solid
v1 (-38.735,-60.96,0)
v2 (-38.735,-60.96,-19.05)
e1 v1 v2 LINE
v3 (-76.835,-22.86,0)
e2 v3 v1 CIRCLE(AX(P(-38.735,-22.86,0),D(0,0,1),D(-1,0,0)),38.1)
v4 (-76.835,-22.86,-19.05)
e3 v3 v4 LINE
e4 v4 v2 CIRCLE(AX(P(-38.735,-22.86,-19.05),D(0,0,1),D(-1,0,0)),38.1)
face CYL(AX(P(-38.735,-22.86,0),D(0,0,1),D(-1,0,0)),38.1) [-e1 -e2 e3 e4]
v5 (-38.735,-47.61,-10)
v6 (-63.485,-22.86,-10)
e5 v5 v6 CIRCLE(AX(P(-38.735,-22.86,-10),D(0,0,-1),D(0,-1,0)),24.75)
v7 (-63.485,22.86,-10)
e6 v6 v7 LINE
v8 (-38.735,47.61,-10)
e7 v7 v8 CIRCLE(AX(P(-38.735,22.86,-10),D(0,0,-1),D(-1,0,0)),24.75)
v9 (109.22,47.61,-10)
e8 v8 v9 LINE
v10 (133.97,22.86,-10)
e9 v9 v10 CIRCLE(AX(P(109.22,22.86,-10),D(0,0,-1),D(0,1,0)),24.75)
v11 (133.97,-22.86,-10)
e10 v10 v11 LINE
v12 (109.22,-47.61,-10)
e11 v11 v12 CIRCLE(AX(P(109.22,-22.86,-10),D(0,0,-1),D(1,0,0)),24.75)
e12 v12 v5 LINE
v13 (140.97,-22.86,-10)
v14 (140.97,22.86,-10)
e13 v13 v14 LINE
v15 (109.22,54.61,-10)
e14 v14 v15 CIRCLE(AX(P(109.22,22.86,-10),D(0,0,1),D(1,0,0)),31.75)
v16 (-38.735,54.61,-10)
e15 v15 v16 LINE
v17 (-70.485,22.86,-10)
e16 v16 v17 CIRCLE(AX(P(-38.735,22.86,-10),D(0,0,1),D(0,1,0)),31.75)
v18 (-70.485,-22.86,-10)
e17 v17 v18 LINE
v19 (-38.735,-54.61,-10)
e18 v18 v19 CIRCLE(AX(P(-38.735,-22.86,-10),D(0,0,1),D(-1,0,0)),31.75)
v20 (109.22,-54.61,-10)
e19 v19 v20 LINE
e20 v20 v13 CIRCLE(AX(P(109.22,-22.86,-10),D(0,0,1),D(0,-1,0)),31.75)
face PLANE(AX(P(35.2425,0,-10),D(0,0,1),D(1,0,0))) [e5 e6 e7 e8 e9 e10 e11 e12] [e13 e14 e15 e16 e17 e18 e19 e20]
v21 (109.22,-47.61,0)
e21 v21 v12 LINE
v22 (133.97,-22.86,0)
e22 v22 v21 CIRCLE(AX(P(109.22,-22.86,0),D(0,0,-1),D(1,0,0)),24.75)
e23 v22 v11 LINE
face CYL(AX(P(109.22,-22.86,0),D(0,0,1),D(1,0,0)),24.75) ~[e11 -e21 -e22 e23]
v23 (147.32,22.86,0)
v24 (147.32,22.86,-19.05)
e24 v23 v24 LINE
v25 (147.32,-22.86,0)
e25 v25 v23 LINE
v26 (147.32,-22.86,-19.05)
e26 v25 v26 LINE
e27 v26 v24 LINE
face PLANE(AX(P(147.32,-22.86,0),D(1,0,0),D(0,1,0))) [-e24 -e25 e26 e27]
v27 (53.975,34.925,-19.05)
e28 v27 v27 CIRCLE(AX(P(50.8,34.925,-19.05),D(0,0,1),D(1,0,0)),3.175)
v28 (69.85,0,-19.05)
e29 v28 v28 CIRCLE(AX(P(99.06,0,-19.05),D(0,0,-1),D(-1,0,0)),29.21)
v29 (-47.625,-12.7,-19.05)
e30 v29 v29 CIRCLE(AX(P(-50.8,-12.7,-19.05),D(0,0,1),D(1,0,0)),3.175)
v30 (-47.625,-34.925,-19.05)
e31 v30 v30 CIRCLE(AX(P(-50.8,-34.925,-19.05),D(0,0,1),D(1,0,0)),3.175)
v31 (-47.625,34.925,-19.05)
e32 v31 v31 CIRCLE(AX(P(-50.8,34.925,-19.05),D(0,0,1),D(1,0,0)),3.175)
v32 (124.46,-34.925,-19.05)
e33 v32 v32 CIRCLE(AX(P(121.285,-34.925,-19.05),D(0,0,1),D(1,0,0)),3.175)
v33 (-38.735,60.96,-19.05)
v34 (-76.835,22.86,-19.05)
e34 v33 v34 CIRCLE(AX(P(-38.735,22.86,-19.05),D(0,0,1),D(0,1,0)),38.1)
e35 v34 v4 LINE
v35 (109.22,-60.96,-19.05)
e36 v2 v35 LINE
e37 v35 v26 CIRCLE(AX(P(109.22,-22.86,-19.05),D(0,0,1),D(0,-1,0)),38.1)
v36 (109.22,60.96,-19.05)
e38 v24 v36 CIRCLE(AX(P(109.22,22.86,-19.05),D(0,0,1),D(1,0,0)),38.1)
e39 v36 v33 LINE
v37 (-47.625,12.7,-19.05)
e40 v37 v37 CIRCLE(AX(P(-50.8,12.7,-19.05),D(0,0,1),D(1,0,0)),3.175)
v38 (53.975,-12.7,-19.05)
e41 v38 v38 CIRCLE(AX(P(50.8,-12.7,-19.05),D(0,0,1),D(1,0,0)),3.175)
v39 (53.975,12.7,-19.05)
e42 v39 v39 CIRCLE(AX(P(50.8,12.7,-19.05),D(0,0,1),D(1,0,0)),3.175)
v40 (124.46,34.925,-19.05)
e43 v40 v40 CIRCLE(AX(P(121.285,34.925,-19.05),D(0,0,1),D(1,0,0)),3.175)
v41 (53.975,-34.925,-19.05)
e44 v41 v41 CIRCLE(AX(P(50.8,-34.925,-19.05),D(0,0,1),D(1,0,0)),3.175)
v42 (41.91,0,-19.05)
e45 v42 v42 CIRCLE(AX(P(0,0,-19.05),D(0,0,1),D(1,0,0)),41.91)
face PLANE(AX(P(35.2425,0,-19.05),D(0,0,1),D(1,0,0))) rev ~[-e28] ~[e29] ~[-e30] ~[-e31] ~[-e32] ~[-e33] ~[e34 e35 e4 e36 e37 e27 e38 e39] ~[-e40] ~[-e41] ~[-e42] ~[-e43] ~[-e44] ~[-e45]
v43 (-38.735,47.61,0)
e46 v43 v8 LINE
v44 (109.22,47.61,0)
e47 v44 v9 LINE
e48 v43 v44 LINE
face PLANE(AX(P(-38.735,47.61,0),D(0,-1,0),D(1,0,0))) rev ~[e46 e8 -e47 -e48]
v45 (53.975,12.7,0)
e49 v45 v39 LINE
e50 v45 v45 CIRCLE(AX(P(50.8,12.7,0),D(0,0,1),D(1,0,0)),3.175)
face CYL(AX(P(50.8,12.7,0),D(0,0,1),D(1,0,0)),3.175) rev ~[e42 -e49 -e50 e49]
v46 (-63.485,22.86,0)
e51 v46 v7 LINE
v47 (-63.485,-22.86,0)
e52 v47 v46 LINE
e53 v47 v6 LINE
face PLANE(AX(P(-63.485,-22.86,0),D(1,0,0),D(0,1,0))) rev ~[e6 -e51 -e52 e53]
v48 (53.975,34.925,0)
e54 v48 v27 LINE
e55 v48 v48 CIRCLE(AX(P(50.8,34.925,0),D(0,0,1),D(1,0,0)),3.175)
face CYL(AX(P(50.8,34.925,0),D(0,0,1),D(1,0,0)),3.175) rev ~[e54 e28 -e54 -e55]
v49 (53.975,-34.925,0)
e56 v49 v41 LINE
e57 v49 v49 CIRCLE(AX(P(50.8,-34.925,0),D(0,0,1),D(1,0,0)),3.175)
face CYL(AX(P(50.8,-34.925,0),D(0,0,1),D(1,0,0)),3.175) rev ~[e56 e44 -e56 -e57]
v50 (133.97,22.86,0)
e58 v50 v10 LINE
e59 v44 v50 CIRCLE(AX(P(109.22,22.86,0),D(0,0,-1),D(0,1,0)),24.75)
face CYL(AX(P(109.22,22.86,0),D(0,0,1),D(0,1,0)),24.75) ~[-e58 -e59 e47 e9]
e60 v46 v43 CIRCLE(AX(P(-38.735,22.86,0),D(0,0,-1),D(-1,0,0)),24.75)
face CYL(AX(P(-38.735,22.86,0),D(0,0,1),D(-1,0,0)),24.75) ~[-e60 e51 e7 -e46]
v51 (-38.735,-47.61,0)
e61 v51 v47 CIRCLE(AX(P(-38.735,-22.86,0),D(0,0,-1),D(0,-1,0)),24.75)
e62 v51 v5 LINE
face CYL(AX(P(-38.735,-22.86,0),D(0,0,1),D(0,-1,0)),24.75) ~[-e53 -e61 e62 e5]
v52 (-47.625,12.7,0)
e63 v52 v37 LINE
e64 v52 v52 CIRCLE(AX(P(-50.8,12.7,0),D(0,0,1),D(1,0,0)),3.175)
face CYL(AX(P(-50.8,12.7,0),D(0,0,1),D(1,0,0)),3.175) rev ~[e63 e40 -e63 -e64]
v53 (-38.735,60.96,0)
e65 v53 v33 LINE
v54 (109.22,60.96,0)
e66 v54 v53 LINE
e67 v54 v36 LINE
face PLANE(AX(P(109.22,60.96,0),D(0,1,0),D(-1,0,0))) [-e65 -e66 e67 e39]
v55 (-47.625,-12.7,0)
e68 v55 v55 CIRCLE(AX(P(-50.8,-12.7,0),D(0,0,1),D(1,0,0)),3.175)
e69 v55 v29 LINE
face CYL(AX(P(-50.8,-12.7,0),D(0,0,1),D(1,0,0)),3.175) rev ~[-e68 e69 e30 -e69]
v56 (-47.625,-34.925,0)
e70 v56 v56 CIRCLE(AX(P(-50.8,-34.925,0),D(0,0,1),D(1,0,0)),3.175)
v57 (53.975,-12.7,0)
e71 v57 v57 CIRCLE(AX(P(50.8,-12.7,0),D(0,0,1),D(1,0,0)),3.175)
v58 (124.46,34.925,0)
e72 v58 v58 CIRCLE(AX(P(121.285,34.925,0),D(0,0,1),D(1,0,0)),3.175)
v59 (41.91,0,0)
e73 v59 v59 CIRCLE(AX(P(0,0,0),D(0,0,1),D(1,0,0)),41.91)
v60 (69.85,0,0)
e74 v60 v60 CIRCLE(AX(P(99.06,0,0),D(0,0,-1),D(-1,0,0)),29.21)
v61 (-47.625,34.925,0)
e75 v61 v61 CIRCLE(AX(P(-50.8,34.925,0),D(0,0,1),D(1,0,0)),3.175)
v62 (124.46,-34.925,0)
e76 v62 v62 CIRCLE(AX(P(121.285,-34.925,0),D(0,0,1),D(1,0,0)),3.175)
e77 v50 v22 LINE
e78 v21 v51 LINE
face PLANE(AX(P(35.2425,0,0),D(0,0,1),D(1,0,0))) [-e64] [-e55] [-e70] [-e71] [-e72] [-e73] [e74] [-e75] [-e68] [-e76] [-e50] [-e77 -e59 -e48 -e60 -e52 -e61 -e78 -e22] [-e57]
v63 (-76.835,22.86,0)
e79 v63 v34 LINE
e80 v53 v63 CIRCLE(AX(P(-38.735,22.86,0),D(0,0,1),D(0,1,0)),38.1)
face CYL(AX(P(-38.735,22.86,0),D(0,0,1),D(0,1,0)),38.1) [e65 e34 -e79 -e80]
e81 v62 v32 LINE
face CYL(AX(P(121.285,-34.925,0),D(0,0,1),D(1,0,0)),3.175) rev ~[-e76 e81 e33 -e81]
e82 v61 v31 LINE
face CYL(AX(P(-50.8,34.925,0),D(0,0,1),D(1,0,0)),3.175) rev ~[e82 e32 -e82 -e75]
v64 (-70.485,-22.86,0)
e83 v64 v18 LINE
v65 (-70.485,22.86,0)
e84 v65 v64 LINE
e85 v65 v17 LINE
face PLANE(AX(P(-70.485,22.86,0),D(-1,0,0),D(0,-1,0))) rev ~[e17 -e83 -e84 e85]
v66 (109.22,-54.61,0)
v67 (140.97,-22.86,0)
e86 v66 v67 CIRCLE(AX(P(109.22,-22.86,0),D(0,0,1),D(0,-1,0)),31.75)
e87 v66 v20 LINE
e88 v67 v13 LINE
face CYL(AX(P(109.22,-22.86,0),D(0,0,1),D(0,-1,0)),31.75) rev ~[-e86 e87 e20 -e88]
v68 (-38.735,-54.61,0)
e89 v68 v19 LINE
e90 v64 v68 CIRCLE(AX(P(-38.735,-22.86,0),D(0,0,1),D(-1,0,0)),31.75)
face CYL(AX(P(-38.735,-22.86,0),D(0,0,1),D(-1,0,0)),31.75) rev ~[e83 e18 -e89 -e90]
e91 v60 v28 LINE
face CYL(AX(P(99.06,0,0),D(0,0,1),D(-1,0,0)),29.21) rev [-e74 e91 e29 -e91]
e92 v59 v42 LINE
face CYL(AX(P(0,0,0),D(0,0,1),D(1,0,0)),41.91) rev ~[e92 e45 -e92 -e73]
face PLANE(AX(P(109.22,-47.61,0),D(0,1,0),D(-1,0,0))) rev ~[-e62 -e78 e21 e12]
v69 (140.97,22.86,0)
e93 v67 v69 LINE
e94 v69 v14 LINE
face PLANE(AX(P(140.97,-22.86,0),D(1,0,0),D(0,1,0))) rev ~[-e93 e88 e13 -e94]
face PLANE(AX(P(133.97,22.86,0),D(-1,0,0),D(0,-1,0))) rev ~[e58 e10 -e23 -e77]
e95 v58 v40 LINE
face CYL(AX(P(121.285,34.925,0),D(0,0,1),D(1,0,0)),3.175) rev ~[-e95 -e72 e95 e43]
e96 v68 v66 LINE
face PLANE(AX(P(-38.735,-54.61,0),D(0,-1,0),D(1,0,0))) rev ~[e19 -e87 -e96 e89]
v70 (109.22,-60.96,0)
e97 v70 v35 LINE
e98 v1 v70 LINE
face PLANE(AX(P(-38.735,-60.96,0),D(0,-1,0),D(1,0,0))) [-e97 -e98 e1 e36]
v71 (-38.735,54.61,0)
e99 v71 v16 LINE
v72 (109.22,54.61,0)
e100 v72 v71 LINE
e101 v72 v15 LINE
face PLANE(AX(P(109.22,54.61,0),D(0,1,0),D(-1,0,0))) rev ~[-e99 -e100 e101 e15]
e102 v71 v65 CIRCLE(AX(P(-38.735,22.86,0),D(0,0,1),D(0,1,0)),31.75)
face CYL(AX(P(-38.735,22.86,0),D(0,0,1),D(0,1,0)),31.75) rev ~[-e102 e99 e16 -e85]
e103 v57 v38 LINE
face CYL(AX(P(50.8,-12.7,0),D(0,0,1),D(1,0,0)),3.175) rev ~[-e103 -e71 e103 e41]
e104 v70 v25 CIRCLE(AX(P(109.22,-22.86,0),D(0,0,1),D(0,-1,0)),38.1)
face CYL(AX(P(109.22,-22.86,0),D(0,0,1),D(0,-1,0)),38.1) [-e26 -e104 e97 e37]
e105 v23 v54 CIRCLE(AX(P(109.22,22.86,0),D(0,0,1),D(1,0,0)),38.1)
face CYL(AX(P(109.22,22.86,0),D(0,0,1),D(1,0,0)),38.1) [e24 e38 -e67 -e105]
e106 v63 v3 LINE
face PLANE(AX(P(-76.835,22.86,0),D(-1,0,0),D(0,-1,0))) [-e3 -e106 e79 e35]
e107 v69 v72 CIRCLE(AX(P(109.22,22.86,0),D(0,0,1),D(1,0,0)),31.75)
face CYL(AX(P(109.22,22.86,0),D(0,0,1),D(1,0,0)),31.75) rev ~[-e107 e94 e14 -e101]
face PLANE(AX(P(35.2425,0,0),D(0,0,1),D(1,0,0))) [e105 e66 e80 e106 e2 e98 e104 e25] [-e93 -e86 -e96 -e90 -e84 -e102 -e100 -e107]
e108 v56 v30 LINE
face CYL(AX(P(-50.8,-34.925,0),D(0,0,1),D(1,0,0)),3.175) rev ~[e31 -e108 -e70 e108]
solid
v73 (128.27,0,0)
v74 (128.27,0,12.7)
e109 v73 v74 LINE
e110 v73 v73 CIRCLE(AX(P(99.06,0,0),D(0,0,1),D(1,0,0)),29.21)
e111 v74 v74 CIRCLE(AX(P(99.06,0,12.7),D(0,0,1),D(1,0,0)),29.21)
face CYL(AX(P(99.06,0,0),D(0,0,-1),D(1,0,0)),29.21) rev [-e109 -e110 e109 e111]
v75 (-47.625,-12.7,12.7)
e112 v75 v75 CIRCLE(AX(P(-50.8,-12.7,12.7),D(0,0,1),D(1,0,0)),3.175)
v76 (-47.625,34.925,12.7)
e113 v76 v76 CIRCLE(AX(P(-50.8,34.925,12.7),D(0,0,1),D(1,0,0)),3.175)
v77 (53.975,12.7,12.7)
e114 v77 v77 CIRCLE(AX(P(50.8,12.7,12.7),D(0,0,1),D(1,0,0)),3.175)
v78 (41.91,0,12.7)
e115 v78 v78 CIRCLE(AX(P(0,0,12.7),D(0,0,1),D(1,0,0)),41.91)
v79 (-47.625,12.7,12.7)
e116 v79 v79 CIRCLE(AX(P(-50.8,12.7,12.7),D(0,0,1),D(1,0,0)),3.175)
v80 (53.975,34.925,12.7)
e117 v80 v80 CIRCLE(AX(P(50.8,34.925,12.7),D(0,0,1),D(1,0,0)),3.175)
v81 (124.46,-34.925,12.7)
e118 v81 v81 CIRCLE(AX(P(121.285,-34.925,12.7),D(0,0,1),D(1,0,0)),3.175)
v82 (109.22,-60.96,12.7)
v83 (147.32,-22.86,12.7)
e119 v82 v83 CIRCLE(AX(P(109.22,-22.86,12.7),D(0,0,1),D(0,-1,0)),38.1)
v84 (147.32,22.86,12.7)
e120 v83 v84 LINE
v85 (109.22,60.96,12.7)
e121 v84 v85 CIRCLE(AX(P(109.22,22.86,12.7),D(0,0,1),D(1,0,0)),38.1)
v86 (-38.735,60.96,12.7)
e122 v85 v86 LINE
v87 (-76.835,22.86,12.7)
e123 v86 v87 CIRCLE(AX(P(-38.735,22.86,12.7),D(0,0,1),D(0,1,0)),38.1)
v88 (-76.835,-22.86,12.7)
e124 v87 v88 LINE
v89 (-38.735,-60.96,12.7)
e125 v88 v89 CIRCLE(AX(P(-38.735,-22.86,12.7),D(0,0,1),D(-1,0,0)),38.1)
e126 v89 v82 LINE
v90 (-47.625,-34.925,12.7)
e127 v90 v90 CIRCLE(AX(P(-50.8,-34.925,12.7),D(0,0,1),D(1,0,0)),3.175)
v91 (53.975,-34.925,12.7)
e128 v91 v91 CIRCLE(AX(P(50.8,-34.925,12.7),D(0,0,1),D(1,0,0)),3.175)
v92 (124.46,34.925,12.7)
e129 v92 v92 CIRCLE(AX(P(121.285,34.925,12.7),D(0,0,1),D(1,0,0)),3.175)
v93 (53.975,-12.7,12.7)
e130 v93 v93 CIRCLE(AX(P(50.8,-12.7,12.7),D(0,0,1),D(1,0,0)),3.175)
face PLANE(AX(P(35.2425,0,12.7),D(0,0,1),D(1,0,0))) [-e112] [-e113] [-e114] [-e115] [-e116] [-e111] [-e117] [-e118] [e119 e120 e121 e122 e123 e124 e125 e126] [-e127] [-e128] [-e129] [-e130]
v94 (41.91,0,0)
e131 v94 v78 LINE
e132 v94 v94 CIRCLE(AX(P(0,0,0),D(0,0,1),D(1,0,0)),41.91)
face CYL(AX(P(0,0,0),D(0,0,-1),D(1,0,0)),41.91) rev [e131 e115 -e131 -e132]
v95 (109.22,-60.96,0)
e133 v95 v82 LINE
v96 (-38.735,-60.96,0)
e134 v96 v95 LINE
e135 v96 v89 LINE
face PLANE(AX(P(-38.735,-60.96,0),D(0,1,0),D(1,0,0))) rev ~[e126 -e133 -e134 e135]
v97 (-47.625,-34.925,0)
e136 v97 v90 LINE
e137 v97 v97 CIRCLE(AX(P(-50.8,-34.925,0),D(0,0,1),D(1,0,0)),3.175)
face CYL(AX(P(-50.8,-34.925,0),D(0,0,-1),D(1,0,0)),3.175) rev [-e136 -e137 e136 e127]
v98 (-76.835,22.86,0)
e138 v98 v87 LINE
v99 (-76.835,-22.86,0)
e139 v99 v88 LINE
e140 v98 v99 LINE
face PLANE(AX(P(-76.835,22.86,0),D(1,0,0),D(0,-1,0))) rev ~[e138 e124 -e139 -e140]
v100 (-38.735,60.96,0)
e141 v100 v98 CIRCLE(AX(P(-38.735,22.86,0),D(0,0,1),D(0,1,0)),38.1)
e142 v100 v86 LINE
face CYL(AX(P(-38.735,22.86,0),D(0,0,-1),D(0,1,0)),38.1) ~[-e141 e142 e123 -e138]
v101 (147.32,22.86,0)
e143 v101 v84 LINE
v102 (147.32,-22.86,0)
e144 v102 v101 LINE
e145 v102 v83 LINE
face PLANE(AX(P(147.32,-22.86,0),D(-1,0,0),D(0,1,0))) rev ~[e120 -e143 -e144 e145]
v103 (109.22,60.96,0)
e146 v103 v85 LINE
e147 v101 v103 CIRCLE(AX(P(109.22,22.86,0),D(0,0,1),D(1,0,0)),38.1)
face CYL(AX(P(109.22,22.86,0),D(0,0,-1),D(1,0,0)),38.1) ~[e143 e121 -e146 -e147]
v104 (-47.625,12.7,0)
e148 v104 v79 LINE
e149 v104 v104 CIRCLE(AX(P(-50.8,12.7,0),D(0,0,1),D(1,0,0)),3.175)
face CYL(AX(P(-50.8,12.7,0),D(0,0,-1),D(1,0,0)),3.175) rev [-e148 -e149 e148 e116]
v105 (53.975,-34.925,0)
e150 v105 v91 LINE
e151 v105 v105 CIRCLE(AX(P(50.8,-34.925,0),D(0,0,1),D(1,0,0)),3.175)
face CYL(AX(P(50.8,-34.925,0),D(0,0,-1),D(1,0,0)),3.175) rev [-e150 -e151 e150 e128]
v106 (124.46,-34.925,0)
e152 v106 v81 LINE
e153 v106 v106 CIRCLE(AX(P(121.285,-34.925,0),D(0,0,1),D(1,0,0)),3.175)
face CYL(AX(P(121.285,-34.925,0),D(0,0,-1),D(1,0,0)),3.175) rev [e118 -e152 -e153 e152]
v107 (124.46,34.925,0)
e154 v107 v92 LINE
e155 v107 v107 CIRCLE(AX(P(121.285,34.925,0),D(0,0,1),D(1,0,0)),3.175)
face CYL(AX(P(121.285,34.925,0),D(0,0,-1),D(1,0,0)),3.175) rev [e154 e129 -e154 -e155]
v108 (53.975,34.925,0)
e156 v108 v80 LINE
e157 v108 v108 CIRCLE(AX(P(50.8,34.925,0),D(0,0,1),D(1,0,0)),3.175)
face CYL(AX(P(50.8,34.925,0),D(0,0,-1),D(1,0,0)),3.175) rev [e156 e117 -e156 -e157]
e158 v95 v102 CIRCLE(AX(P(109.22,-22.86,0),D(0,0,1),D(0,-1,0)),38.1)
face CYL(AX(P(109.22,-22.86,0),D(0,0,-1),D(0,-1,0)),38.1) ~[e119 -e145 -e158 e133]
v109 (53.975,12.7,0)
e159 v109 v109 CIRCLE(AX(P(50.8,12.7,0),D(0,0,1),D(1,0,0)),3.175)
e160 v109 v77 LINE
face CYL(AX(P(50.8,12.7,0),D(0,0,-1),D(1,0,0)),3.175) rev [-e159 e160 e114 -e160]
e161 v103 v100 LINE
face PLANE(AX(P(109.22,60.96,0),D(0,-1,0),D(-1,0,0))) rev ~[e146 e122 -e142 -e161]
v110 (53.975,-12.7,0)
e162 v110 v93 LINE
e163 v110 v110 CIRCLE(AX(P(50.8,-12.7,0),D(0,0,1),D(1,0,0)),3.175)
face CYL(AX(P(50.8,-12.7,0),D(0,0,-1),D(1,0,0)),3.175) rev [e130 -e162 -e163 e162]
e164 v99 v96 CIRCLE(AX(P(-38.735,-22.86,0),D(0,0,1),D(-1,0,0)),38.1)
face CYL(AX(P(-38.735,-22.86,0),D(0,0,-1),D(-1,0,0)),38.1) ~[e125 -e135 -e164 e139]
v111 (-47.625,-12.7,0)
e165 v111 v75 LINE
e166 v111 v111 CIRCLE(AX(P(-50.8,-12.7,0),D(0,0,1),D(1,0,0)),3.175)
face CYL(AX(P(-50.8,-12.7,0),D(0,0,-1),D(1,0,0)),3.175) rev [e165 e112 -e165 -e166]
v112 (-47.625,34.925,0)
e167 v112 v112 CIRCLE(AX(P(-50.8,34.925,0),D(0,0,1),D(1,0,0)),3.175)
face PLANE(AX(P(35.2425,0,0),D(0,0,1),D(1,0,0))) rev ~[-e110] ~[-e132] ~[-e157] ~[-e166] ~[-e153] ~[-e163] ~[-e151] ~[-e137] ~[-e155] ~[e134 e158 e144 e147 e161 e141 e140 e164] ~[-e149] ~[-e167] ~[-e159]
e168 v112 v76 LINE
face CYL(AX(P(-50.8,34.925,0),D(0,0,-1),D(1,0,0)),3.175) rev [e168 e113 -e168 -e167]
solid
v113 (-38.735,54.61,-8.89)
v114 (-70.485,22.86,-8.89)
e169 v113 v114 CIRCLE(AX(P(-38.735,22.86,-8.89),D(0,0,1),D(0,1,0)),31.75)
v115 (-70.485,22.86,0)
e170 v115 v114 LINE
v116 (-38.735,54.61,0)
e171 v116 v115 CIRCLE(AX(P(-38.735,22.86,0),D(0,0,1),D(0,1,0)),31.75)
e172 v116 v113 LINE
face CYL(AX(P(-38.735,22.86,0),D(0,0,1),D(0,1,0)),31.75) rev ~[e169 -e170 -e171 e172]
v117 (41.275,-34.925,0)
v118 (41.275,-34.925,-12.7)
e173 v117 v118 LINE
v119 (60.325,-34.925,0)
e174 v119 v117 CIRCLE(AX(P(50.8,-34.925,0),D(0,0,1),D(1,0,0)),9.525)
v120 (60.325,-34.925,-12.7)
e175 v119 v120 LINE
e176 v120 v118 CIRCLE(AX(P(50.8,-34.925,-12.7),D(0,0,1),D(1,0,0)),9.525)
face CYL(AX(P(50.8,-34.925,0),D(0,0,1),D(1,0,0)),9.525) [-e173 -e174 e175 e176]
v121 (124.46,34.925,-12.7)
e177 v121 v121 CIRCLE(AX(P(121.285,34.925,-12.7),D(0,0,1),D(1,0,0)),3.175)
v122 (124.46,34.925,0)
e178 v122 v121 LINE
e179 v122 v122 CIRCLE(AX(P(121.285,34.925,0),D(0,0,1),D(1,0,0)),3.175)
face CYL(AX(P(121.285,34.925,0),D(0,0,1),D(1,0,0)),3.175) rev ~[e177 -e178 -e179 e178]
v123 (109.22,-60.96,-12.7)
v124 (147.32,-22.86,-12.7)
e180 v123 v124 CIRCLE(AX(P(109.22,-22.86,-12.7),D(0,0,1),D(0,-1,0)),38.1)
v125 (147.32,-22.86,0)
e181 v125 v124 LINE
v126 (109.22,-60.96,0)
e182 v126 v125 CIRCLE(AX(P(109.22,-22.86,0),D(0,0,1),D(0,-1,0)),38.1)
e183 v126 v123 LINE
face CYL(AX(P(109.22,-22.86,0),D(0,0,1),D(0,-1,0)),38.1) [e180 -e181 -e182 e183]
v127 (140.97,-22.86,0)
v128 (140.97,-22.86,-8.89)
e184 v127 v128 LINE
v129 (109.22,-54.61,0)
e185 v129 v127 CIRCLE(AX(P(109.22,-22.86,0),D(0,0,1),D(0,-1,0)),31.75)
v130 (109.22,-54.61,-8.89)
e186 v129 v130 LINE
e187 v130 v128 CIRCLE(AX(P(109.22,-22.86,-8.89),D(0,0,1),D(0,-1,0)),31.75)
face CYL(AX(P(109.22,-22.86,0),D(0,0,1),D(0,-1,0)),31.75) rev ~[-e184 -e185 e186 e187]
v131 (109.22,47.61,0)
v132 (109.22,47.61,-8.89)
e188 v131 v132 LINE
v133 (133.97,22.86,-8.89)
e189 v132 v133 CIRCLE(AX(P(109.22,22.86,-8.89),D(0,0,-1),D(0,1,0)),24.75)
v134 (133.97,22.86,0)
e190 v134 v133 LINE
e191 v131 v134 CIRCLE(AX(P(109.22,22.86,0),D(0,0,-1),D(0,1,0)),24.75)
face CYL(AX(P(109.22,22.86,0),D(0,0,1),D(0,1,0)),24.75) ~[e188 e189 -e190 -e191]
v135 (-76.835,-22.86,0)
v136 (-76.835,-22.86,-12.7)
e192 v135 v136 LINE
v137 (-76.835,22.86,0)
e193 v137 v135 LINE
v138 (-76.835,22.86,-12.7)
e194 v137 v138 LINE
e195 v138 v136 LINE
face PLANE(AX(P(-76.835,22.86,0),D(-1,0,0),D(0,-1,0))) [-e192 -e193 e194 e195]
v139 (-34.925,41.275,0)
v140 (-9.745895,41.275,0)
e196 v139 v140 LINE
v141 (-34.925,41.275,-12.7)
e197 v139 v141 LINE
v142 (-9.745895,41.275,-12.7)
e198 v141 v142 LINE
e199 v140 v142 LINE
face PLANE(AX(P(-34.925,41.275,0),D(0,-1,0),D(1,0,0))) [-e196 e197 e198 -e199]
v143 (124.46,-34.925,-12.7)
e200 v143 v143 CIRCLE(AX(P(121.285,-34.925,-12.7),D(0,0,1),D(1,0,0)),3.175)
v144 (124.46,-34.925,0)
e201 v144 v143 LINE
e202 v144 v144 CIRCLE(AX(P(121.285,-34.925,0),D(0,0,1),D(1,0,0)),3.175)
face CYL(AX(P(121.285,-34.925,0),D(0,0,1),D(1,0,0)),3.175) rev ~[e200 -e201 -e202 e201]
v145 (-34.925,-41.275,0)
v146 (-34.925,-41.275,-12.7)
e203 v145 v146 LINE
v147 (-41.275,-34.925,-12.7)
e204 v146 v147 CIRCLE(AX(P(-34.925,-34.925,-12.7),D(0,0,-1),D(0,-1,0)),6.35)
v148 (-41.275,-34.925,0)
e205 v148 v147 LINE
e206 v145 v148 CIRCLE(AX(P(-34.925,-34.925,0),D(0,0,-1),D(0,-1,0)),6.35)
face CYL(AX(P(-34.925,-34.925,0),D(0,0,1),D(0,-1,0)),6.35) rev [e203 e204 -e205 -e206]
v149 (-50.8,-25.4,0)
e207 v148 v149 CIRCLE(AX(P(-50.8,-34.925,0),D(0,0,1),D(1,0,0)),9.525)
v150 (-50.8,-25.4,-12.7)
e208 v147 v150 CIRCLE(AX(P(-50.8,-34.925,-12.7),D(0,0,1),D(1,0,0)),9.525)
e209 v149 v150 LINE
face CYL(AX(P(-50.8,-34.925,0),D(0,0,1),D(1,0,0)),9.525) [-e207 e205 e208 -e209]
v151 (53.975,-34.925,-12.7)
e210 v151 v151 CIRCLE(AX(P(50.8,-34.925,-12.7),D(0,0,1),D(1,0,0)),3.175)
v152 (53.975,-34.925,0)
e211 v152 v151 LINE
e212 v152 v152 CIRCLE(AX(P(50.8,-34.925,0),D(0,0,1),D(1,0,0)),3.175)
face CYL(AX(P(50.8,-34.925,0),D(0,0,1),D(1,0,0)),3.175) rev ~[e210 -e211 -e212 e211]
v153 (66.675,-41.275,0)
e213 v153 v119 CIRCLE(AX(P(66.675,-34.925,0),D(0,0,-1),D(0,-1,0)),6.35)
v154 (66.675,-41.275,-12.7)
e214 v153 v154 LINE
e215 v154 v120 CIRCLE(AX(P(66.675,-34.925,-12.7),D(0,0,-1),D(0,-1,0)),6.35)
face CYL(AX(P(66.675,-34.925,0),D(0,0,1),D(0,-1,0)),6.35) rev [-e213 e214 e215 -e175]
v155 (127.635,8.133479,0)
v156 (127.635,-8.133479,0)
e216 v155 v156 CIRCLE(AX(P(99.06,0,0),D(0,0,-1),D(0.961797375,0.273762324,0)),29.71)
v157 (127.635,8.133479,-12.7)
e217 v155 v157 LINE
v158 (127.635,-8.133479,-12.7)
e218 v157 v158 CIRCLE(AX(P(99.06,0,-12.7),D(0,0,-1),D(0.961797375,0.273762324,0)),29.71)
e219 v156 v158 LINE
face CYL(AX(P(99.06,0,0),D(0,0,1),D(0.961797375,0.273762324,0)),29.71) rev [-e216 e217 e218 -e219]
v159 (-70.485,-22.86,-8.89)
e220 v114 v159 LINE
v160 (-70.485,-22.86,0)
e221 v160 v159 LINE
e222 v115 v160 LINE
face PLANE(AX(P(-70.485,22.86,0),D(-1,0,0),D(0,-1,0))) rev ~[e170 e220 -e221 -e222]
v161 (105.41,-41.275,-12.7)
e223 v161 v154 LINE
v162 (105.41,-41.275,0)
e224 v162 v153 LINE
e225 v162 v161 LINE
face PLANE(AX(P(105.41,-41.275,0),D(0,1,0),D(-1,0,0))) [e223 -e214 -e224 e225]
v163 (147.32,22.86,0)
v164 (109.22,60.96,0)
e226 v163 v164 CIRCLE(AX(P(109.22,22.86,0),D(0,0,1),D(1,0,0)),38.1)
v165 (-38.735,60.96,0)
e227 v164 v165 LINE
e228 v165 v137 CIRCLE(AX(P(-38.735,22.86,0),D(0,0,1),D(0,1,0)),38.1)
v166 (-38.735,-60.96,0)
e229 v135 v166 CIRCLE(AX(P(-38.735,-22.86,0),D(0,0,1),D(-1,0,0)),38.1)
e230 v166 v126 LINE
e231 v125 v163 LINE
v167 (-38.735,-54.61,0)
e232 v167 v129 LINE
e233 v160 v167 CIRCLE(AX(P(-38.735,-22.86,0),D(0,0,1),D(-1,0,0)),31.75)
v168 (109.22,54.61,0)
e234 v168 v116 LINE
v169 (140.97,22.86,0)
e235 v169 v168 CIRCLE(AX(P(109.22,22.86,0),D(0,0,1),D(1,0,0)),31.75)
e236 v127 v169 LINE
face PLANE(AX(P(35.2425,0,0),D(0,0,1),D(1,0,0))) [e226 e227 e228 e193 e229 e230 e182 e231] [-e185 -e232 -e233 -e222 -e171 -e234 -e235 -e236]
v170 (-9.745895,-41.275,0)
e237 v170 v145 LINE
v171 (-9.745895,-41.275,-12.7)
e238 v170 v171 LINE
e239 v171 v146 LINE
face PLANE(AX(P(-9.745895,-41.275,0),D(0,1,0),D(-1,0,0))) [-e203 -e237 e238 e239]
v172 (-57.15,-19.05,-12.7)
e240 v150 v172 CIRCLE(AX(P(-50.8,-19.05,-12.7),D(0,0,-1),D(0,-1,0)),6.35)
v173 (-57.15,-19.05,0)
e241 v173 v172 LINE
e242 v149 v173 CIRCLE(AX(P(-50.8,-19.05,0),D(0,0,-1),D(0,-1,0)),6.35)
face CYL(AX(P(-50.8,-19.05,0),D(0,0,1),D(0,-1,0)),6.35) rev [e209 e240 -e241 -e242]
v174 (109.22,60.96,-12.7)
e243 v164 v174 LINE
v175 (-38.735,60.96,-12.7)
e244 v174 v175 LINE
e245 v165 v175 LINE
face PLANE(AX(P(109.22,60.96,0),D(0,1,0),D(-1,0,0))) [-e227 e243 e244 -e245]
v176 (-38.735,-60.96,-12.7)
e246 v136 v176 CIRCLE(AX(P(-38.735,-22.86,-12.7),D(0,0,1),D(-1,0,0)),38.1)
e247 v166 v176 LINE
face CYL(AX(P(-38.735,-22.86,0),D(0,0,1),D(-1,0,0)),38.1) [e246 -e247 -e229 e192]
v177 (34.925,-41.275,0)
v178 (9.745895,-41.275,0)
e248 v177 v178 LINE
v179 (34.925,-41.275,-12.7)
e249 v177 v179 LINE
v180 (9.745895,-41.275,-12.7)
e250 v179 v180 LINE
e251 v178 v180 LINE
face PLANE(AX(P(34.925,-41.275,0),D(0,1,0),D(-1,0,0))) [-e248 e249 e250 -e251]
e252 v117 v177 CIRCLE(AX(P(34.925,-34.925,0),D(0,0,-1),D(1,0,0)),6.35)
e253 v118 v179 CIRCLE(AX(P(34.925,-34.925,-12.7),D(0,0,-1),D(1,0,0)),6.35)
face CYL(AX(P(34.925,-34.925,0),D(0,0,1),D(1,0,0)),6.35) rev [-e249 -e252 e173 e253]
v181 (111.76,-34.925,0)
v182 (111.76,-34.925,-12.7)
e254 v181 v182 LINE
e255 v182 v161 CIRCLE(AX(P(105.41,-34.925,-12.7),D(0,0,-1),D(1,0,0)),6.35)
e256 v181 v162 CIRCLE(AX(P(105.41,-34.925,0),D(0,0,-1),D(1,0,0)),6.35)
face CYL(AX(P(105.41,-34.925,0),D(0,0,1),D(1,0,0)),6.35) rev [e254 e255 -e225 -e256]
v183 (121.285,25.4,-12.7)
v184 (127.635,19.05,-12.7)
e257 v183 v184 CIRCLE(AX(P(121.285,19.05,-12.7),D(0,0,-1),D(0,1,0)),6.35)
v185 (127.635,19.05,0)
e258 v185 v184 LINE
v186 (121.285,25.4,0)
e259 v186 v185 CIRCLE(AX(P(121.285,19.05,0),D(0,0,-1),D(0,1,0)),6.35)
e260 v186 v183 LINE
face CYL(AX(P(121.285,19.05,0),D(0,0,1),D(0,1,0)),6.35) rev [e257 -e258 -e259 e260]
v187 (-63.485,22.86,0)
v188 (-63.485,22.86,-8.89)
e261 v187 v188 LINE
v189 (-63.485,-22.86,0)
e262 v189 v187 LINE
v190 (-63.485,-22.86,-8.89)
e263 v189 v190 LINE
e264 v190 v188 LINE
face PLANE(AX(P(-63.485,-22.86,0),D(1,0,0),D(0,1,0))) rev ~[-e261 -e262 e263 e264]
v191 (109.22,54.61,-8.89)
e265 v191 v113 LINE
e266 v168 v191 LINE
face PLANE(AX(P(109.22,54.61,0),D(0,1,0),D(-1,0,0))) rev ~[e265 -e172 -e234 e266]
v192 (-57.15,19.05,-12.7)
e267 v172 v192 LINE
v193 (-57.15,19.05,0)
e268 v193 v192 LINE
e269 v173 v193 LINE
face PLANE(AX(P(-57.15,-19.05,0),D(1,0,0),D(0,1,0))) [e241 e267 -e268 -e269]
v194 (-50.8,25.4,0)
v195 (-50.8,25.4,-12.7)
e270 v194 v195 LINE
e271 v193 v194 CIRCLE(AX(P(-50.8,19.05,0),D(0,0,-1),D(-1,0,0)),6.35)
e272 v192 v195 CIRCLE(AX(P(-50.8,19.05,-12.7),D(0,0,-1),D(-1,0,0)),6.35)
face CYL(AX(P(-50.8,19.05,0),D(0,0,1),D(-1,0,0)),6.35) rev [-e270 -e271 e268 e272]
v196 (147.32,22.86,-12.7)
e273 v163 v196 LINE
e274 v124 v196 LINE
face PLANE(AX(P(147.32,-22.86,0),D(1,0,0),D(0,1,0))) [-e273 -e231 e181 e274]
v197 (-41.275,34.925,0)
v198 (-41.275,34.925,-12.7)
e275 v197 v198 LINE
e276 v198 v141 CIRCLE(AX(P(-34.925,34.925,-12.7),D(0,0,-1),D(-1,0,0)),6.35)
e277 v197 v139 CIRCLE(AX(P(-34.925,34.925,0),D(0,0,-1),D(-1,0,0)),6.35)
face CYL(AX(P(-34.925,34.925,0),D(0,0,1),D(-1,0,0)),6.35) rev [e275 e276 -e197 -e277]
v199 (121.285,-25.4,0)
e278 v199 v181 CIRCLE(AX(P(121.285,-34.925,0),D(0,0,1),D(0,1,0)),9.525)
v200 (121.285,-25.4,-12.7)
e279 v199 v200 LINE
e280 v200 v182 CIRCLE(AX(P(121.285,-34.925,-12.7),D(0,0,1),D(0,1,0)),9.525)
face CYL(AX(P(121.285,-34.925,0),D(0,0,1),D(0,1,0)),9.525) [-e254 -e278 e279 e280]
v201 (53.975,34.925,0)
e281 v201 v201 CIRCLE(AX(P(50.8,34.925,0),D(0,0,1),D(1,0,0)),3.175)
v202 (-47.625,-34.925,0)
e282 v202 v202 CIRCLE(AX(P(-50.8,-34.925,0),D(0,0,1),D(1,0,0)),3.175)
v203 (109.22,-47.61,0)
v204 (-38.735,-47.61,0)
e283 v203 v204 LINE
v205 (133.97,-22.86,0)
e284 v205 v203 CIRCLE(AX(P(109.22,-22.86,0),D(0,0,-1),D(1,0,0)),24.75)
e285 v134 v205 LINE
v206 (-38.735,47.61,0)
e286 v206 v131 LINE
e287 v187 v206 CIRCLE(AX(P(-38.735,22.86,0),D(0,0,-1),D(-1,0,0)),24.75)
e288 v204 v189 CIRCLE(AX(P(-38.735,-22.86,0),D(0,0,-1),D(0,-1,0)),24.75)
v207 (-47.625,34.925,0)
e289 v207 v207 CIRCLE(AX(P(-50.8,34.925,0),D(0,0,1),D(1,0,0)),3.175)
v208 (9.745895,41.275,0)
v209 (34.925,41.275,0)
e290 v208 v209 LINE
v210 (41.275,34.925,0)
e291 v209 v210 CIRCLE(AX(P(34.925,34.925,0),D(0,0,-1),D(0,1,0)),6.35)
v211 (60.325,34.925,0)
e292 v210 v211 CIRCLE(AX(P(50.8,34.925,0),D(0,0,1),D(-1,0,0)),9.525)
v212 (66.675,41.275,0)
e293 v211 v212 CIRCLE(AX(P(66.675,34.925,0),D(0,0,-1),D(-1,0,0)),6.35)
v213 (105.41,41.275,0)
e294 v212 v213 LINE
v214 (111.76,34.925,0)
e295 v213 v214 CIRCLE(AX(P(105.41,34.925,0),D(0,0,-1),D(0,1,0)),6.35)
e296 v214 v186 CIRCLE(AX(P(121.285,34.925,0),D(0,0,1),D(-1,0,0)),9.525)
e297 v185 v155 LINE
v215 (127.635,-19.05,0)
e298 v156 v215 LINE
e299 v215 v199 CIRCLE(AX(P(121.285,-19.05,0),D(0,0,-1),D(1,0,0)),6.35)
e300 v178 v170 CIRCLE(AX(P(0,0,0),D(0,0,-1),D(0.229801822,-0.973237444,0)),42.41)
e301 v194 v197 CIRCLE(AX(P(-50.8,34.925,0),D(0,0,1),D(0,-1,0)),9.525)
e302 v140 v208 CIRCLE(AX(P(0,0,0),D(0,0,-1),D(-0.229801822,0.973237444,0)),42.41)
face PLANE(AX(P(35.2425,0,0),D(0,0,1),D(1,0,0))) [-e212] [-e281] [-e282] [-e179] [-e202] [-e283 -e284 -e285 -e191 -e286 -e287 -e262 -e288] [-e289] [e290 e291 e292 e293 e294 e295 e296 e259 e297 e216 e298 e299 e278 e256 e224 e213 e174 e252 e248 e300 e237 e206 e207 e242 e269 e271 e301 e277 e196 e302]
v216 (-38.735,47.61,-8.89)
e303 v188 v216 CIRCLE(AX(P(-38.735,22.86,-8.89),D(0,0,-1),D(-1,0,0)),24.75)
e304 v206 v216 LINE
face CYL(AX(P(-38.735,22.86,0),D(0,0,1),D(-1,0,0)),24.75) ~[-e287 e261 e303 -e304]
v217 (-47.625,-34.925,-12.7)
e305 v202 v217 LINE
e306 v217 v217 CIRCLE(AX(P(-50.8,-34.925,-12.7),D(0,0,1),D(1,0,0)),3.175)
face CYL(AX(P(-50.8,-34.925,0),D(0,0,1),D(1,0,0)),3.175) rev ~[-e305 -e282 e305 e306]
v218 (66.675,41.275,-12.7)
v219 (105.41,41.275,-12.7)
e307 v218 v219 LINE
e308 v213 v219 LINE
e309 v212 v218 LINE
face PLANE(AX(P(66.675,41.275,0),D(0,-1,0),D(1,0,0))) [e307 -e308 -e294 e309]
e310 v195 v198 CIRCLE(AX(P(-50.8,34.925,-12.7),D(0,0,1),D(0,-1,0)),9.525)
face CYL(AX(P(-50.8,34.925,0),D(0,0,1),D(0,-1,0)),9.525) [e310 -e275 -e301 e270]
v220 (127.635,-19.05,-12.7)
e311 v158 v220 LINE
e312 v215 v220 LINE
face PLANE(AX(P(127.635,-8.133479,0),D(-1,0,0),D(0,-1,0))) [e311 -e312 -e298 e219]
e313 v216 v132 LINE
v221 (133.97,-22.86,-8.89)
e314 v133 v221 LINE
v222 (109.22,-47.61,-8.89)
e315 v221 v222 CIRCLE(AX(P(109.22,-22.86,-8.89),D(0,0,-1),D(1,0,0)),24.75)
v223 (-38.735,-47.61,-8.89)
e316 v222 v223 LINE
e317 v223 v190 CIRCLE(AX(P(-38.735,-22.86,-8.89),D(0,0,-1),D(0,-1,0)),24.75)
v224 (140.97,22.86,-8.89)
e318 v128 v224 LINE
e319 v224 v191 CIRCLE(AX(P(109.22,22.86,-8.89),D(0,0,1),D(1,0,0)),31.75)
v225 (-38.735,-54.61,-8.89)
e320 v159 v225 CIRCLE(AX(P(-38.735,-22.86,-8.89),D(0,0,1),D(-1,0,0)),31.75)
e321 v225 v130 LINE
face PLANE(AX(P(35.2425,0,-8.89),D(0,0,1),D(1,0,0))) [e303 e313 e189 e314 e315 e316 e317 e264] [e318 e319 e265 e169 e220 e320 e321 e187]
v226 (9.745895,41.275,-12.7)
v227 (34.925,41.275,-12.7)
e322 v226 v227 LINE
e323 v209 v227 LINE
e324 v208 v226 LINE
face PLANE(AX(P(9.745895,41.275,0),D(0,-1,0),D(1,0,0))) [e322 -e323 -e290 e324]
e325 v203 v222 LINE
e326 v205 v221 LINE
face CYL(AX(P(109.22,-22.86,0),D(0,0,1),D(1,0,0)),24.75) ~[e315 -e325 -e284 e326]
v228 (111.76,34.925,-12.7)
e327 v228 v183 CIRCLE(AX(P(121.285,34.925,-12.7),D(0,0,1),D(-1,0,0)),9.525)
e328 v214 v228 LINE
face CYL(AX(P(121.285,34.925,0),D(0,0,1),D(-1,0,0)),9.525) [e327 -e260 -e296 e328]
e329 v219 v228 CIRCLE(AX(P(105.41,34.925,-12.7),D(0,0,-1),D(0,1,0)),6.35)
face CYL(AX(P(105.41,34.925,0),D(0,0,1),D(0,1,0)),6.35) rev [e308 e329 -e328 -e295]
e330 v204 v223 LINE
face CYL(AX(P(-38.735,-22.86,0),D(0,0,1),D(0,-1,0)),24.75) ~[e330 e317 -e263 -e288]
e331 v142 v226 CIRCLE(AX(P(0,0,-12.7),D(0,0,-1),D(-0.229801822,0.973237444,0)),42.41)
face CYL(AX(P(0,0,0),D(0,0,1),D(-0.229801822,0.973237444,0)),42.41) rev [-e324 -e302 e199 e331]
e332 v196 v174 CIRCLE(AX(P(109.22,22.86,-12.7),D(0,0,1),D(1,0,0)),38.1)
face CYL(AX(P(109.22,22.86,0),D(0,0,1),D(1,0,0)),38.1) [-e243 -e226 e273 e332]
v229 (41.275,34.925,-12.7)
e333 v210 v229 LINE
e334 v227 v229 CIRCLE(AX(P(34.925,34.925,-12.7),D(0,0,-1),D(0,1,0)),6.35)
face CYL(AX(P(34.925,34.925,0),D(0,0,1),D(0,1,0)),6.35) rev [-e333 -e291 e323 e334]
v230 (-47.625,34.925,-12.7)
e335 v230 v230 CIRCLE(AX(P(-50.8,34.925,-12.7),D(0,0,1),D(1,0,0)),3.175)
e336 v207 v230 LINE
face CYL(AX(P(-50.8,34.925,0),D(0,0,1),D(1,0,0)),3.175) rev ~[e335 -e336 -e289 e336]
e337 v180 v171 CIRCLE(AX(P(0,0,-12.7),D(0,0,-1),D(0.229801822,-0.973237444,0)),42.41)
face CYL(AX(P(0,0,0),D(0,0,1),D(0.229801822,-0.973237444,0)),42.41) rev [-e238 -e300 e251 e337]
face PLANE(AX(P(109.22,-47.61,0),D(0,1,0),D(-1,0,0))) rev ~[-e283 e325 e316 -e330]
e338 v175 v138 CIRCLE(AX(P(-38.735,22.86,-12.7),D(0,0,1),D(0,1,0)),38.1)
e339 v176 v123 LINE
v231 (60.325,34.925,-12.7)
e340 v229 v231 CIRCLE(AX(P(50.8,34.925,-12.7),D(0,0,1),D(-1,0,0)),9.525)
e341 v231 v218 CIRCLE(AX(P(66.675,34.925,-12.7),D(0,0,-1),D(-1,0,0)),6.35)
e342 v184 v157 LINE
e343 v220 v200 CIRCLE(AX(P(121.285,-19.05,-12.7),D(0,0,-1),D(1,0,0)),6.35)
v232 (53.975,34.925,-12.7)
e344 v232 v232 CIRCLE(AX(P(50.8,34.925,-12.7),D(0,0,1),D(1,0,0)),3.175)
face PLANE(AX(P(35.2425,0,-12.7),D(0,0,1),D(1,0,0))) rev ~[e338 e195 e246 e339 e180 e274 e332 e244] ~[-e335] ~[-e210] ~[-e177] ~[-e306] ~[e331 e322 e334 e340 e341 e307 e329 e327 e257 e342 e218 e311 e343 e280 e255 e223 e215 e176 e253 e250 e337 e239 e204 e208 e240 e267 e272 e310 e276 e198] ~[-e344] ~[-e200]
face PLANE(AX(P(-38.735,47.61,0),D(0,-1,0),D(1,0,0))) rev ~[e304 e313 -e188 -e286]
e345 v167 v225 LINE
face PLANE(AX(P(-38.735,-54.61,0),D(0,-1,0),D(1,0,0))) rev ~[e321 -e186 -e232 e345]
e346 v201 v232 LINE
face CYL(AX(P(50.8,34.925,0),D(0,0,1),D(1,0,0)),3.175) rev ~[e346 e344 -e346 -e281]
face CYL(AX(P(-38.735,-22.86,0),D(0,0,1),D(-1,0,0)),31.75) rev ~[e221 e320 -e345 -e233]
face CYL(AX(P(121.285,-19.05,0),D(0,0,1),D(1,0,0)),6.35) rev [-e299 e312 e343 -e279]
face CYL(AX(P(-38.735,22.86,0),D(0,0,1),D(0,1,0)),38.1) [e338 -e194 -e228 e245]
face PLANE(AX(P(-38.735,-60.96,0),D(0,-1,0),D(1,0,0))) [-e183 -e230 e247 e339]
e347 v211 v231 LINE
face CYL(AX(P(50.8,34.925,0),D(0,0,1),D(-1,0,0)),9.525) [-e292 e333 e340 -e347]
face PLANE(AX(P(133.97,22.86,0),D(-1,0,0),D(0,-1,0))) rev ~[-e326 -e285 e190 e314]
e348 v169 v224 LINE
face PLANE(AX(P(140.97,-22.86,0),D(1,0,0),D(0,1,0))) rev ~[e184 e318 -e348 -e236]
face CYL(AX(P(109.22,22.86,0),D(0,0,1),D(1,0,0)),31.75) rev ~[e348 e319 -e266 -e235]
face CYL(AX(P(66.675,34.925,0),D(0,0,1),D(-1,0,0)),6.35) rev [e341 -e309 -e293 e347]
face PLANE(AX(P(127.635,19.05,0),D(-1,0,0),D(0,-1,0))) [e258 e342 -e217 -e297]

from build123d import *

# Parameters (mm, degrees)
F0_R     = 3.175
F0_R_2   = 41.91
F1_DEPTH = 19.05
F2_DEPTH = 10
F3_R     = 3.175
F3_R_2   = 41.91
F3_R_3   = 29.21
F5_DEPTH = 12.7
F4_R     = 3.175
F6_DEPTH = 12.7
F7_DEPTH = 8.89


with BuildPart() as f1:
    # F0 (on Top) → F1 (new body)
    with BuildSketch(Plane.XY):
        with BuildLine():
            ThreePointArc((109.22, -60.96), (136.1607683632, -49.8007683632), (147.32, -22.86))
            Line((147.32, -22.86), (147.32, 22.86))
            ThreePointArc((147.32, 22.86), (136.1607683632, 49.8007683632), (109.22, 60.96))
            Line((109.22, 60.96), (-38.735, 60.96))
            ThreePointArc((-38.735, 60.96), (-65.6757683632, 49.8007683632), (-76.835, 22.86))
            Line((-76.835, 22.86), (-76.835, -22.86))
            ThreePointArc((-76.835, -22.86), (-65.6757683632, -49.8007683632), (-38.735, -60.96))
            Line((-38.735, -60.96), (109.22, -60.96))
        make_face()
        with BuildLine():
            ThreePointArc((140.97, -22.86), (131.6706403027, -45.3106403027), (109.22, -54.61))
            Line((109.22, -54.61), (-38.735, -54.61))
            ThreePointArc((-38.735, -54.61), (-61.1856403027, -45.3106403027), (-70.485, -22.86))
            Line((-70.485, -22.86), (-70.485, 22.86))
            ThreePointArc((-70.485, 22.86), (-61.1856403027, 45.3106403027), (-38.735, 54.61))
            Line((-38.735, 54.61), (109.22, 54.61))
            ThreePointArc((109.22, 54.61), (131.6706403027, 45.3106403027), (140.97, 22.86))
            Line((140.97, 22.86), (140.97, -22.86))
        make_face(mode=Mode.SUBTRACT)
        with BuildLine():
            Line((-38.735, -54.61), (109.22, -54.61))
            ThreePointArc((109.22, -54.61), (131.6706403027, -45.3106403027), (140.97, -22.86))
            Line((140.97, -22.86), (140.97, 22.86))
            ThreePointArc((140.97, 22.86), (131.6706403027, 45.3106403027), (109.22, 54.61))
            Line((109.22, 54.61), (-38.735, 54.61))
            ThreePointArc((-38.735, 54.61), (-61.1856403027, 45.3106403027), (-70.485, 22.86))
            Line((-70.485, 22.86), (-70.485, -22.86))
            ThreePointArc((-70.485, -22.86), (-61.1856403027, -45.3106403027), (-38.735, -54.61))
        make_face()
        with BuildLine():
            ThreePointArc((133.97, -22.86), (126.7208928344, -40.3608928344), (109.22, -47.61))
            Line((109.22, -47.61), (-38.735, -47.61))
            ThreePointArc((-38.735, -47.61), (-56.2358928344, -40.3608928344), (-63.485, -22.86))
            Line((-63.485, -22.86), (-63.485, 22.86))
            ThreePointArc((-63.485, 22.86), (-56.2358928344, 40.3608928344), (-38.735, 47.61))
            Line((-38.735, 47.61), (109.22, 47.61))
            ThreePointArc((109.22, 47.61), (126.7208928344, 40.3608928344), (133.97, 22.86))
            Line((133.97, 22.86), (133.97, -22.86))
        make_face(mode=Mode.SUBTRACT)
        with BuildLine():
            Line((-38.735, -47.61), (109.22, -47.61))
            ThreePointArc((109.22, -47.61), (126.7208928344, -40.3608928344), (133.97, -22.86))
            Line((133.97, -22.86), (133.97, 22.86))
            ThreePointArc((133.97, 22.86), (126.7208928344, 40.3608928344), (109.22, 47.61))
            Line((109.22, 47.61), (-38.735, 47.61))
            ThreePointArc((-38.735, 47.61), (-56.2358928344, 40.3608928344), (-63.485, 22.86))
            Line((-63.485, 22.86), (-63.485, -22.86))
            ThreePointArc((-63.485, -22.86), (-56.2358928344, -40.3608928344), (-38.735, -47.61))
        make_face()
        with Locations((-50.8, -34.925)):
            Circle(F0_R, mode=Mode.SUBTRACT)
        with Locations((-50.8, -12.7)):
            Circle(F0_R, mode=Mode.SUBTRACT)
        Circle(F0_R_2, mode=Mode.SUBTRACT)
        with Locations((50.8, -34.925)):
            Circle(F0_R, mode=Mode.SUBTRACT)
        with Locations((121.285, -34.925)):
            Circle(F0_R, mode=Mode.SUBTRACT)
        with Locations((50.8, -12.7)):
            Circle(F0_R, mode=Mode.SUBTRACT)
        with BuildLine():
            ThreePointArc((128.27, 0), (99.06, -29.21), (69.85, 0))
            ThreePointArc((69.85, 0), (99.06, 29.21), (128.27, 0))
        make_face(mode=Mode.SUBTRACT)
        with Locations((-50.8, 12.7)):
            Circle(F0_R, mode=Mode.SUBTRACT)
        with Locations((-50.8, 34.925)):
            Circle(F0_R, mode=Mode.SUBTRACT)
        with Locations((50.8, 12.7)):
            Circle(F0_R, mode=Mode.SUBTRACT)
        with Locations((50.8, 34.925)):
            Circle(F0_R, mode=Mode.SUBTRACT)
        with Locations((121.285, 34.925)):
            Circle(F0_R, mode=Mode.SUBTRACT)
    extrude(amount=-F1_DEPTH)

    # F0 (on Top) → F2 (cut)
    with BuildSketch(Plane.XY):
        with BuildLine():
            Line((-38.735, -54.61), (109.22, -54.61))
            ThreePointArc((109.22, -54.61), (131.6706403027, -45.3106403027), (140.97, -22.86))
            Line((140.97, -22.86), (140.97, 22.86))
            ThreePointArc((140.97, 22.86), (131.6706403027, 45.3106403027), (109.22, 54.61))
            Line((109.22, 54.61), (-38.735, 54.61))
            ThreePointArc((-38.735, 54.61), (-61.1856403027, 45.3106403027), (-70.485, 22.86))
            Line((-70.485, 22.86), (-70.485, -22.86))
            ThreePointArc((-70.485, -22.86), (-61.1856403027, -45.3106403027), (-38.735, -54.61))
        make_face()
        with BuildLine():
            ThreePointArc((133.97, -22.86), (126.7208928344, -40.3608928344), (109.22, -47.61))
            Line((109.22, -47.61), (-38.735, -47.61))
            ThreePointArc((-38.735, -47.61), (-56.2358928344, -40.3608928344), (-63.485, -22.86))
            Line((-63.485, -22.86), (-63.485, 22.86))
            ThreePointArc((-63.485, 22.86), (-56.2358928344, 40.3608928344), (-38.735, 47.61))
            Line((-38.735, 47.61), (109.22, 47.61))
            ThreePointArc((109.22, 47.61), (126.7208928344, 40.3608928344), (133.97, 22.86))
            Line((133.97, 22.86), (133.97, -22.86))
        make_face(mode=Mode.SUBTRACT)
    extrude(amount=-F2_DEPTH, mode=Mode.SUBTRACT)


with BuildPart() as f5:
    # F3 (on Top) → F5 (new body)
    with BuildSketch(Plane.XY):
        with BuildLine():
            Line((109.22, 60.96), (-38.735, 60.96))
            ThreePointArc((-38.735, 60.96), (-65.6757683632, 49.8007683632), (-76.835, 22.86))
            Line((-76.835, 22.86), (-76.835, -22.86))
            ThreePointArc((-76.835, -22.86), (-65.6757683632, -49.8007683632), (-38.735, -60.96))
            Line((-38.735, -60.96), (109.22, -60.96))
            ThreePointArc((109.22, -60.96), (136.1607683632, -49.8007683632), (147.32, -22.86))
            Line((147.32, -22.86), (147.32, 22.86))
            ThreePointArc((147.32, 22.86), (136.1607683632, 49.8007683632), (109.22, 60.96))
        make_face()
        with Locations((-50.8, -34.925)):
            Circle(F3_R, mode=Mode.SUBTRACT)
        with Locations((-50.8, -12.7)):
            Circle(F3_R, mode=Mode.SUBTRACT)
        Circle(F3_R_2, mode=Mode.SUBTRACT)
        with Locations((50.8, -34.925)):
            Circle(F3_R, mode=Mode.SUBTRACT)
        with Locations((121.285, -34.925)):
            Circle(F3_R, mode=Mode.SUBTRACT)
        with Locations((50.8, -12.7)):
            Circle(F3_R, mode=Mode.SUBTRACT)
        with Locations((99.06, 0)):
            Circle(F3_R_3, mode=Mode.SUBTRACT)
        with Locations((-50.8, 12.7)):
            Circle(F3_R, mode=Mode.SUBTRACT)
        with Locations((-50.8, 34.925)):
            Circle(F3_R, mode=Mode.SUBTRACT)
        with Locations((50.8, 12.7)):
            Circle(F3_R, mode=Mode.SUBTRACT)
        with Locations((50.8, 34.925)):
            Circle(F3_R, mode=Mode.SUBTRACT)
        with Locations((121.285, 34.925)):
            Circle(F3_R, mode=Mode.SUBTRACT)
    extrude(amount=F5_DEPTH)


with BuildPart() as f6:
    # F4 (on Top) → F6 (new body)
    with BuildSketch(Plane.XY):
        with BuildLine():
            Line((109.22, 60.96), (-38.735, 60.96))
            ThreePointArc((-38.735, 60.96), (-65.6757683632, 49.8007683632), (-76.835, 22.86))
            Line((-76.835, 22.86), (-76.835, -22.86))
            ThreePointArc((-76.835, -22.86), (-65.6757683632, -49.8007683632), (-38.735, -60.96))
            Line((-38.735, -60.96), (109.22, -60.96))
            ThreePointArc((109.22, -60.96), (136.1607683632, -49.8007683632), (147.32, -22.86))
            Line((147.32, -22.86), (147.32, 22.86))
            ThreePointArc((147.32, 22.86), (136.1607683632, 49.8007683632), (109.22, 60.96))
        make_face()
        with BuildLine():
            ThreePointArc((-70.485, 22.86), (-61.1856403027, 45.3106403027), (-38.735, 54.61))
            Line((-38.735, 54.61), (109.22, 54.61))
            ThreePointArc((109.22, 54.61), (131.6706403027, 45.3106403027), (140.97, 22.86))
            Line((140.97, 22.86), (140.97, -22.86))
            ThreePointArc((140.97, -22.86), (131.6706403027, -45.3106403027), (109.22, -54.61))
            Line((109.22, -54.61), (-38.735, -54.61))
            ThreePointArc((-38.735, -54.61), (-61.1856403027, -45.3106403027), (-70.485, -22.86))
            Line((-70.485, -22.86), (-70.485, 22.86))
        make_face(mode=Mode.SUBTRACT)
        with BuildLine():
            Line((109.22, 54.61), (-38.735, 54.61))
            ThreePointArc((-38.735, 54.61), (-61.1856403027, 45.3106403027), (-70.485, 22.86))
            Line((-70.485, 22.86), (-70.485, -22.86))
            ThreePointArc((-70.485, -22.86), (-61.1856403027, -45.3106403027), (-38.735, -54.61))
            Line((-38.735, -54.61), (109.22, -54.61))
            ThreePointArc((109.22, -54.61), (131.6706403027, -45.3106403027), (140.97, -22.86))
            Line((140.97, -22.86), (140.97, 22.86))
            ThreePointArc((140.97, 22.86), (131.6706403027, 45.3106403027), (109.22, 54.61))
        make_face()
        with BuildLine():
            ThreePointArc((-63.485, 22.86), (-56.2358928344, 40.3608928344), (-38.735, 47.61))
            Line((-38.735, 47.61), (109.22, 47.61))
            ThreePointArc((109.22, 47.61), (126.7208928344, 40.3608928344), (133.97, 22.86))
            Line((133.97, 22.86), (133.97, -22.86))
            ThreePointArc((133.97, -22.86), (126.7208928344, -40.3608928344), (109.22, -47.61))
            Line((109.22, -47.61), (-38.735, -47.61))
            ThreePointArc((-38.735, -47.61), (-56.2358928344, -40.3608928344), (-63.485, -22.86))
            Line((-63.485, -22.86), (-63.485, 22.86))
        make_face(mode=Mode.SUBTRACT)
        with BuildLine():
            Line((109.22, 47.61), (-38.735, 47.61))
            ThreePointArc((-38.735, 47.61), (-56.2358928344, 40.3608928344), (-63.485, 22.86))
            Line((-63.485, 22.86), (-63.485, -22.86))
            ThreePointArc((-63.485, -22.86), (-56.2358928344, -40.3608928344), (-38.735, -47.61))
            Line((-38.735, -47.61), (109.22, -47.61))
            ThreePointArc((109.22, -47.61), (126.7208928344, -40.3608928344), (133.97, -22.86))
            Line((133.97, -22.86), (133.97, 22.86))
            ThreePointArc((133.97, 22.86), (126.7208928344, 40.3608928344), (109.22, 47.61))
        make_face()
        with Locations((-50.8, -34.925)):
            Circle(F4_R, mode=Mode.SUBTRACT)
        with Locations((50.8, -34.925)):
            Circle(F4_R, mode=Mode.SUBTRACT)
        with Locations((121.285, -34.925)):
            Circle(F4_R, mode=Mode.SUBTRACT)
        with BuildLine():
            ThreePointArc((-57.15, 19.05), (-55.2901280605, 23.5401280605), (-50.8, 25.4))
            ThreePointArc((-50.8, 25.4), (-44.0648079092, 28.1898079092), (-41.275, 34.925))
            ThreePointArc((-41.275, 34.925), (-39.4151280605, 39.4151280605), (-34.925, 41.275))
            Line((-34.925, 41.275), (-9.7458952898, 41.275))
            ThreePointArc((-9.7458952898, 41.275), (0, 42.41), (9.7458952898, 41.275))
            Line((9.7458952898, 41.275), (34.925, 41.275))
            ThreePointArc((34.925, 41.275), (39.4151280605, 39.4151280605), (41.275, 34.925))
            ThreePointArc((41.275, 34.925), (50.8, 25.4), (60.325, 34.925))
            ThreePointArc((60.325, 34.925), (62.1848719395, 39.4151280605), (66.675, 41.275))
            Line((66.675, 41.275), (105.41, 41.275))
            ThreePointArc((105.41, 41.275), (109.9001280605, 39.4151280605), (111.76, 34.925))
            ThreePointArc((111.76, 34.925), (114.5498079092, 28.1898079092), (121.285, 25.4))
            ThreePointArc((121.285, 25.4), (125.7751280605, 23.5401280605), (127.635, 19.05))
            Line((127.635, 19.05), (127.635, 8.1334786531))
            ThreePointArc((127.635, 8.1334786531), (128.77, 0), (127.635, -8.1334786531))
            Line((127.635, -8.1334786531), (127.635, -19.05))
            ThreePointArc((127.635, -19.05), (125.7751280605, -23.5401280605), (121.285, -25.4))
            ThreePointArc((121.285, -25.4), (114.5498079092, -28.1898079092), (111.76, -34.925))
            ThreePointArc((111.76, -34.925), (109.9001280605, -39.4151280605), (105.41, -41.275))
            Line((105.41, -41.275), (66.675, -41.275))
            ThreePointArc((66.675, -41.275), (62.1848719395, -39.4151280605), (60.325, -34.925))
            ThreePointArc((60.325, -34.925), (50.8, -25.4), (41.275, -34.925))
            ThreePointArc((41.275, -34.925), (39.4151280605, -39.4151280605), (34.925, -41.275))
            Line((34.925, -41.275), (9.7458952898, -41.275))
            ThreePointArc((9.7458952898, -41.275), (0, -42.41), (-9.7458952898, -41.275))
            Line((-9.7458952898, -41.275), (-34.925, -41.275))
            ThreePointArc((-34.925, -41.275), (-39.4151280605, -39.4151280605), (-41.275, -34.925))
            ThreePointArc((-41.275, -34.925), (-44.0648079092, -28.1898079092), (-50.8, -25.4))
            ThreePointArc((-50.8, -25.4), (-55.2901280605, -23.5401280605), (-57.15, -19.05))
            Line((-57.15, -19.05), (-57.15, 19.05))
        make_face(mode=Mode.SUBTRACT)
        with Locations((-50.8, 34.925)):
            Circle(F4_R, mode=Mode.SUBTRACT)
        with Locations((50.8, 34.925)):
            Circle(F4_R, mode=Mode.SUBTRACT)
        with Locations((121.285, 34.925)):
            Circle(F4_R, mode=Mode.SUBTRACT)
    extrude(amount=-F6_DEPTH)

    # F4 (on Top) → F7 (cut)
    with BuildSketch(Plane.XY):
        with BuildLine():
            Line((109.22, 54.61), (-38.735, 54.61))
            ThreePointArc((-38.735, 54.61), (-61.1856403027, 45.3106403027), (-70.485, 22.86))
            Line((-70.485, 22.86), (-70.485, -22.86))
            ThreePointArc((-70.485, -22.86), (-61.1856403027, -45.3106403027), (-38.735, -54.61))
            Line((-38.735, -54.61), (109.22, -54.61))
            ThreePointArc((109.22, -54.61), (131.6706403027, -45.3106403027), (140.97, -22.86))
            Line((140.97, -22.86), (140.97, 22.86))
            ThreePointArc((140.97, 22.86), (131.6706403027, 45.3106403027), (109.22, 54.61))
        make_face()
        with BuildLine():
            ThreePointArc((-63.485, 22.86), (-56.2358928344, 40.3608928344), (-38.735, 47.61))
            Line((-38.735, 47.61), (109.22, 47.61))
            ThreePointArc((109.22, 47.61), (126.7208928344, 40.3608928344), (133.97, 22.86))
            Line((133.97, 22.86), (133.97, -22.86))
            ThreePointArc((133.97, -22.86), (126.7208928344, -40.3608928344), (109.22, -47.61))
            Line((109.22, -47.61), (-38.735, -47.61))
            ThreePointArc((-38.735, -47.61), (-56.2358928344, -40.3608928344), (-63.485, -22.86))
            Line((-63.485, -22.86), (-63.485, 22.86))
        make_face(mode=Mode.SUBTRACT)
    extrude(amount=-F7_DEPTH, mode=Mode.SUBTRACT)


solid = Compound([f1.part, f5.part, f6.part])
